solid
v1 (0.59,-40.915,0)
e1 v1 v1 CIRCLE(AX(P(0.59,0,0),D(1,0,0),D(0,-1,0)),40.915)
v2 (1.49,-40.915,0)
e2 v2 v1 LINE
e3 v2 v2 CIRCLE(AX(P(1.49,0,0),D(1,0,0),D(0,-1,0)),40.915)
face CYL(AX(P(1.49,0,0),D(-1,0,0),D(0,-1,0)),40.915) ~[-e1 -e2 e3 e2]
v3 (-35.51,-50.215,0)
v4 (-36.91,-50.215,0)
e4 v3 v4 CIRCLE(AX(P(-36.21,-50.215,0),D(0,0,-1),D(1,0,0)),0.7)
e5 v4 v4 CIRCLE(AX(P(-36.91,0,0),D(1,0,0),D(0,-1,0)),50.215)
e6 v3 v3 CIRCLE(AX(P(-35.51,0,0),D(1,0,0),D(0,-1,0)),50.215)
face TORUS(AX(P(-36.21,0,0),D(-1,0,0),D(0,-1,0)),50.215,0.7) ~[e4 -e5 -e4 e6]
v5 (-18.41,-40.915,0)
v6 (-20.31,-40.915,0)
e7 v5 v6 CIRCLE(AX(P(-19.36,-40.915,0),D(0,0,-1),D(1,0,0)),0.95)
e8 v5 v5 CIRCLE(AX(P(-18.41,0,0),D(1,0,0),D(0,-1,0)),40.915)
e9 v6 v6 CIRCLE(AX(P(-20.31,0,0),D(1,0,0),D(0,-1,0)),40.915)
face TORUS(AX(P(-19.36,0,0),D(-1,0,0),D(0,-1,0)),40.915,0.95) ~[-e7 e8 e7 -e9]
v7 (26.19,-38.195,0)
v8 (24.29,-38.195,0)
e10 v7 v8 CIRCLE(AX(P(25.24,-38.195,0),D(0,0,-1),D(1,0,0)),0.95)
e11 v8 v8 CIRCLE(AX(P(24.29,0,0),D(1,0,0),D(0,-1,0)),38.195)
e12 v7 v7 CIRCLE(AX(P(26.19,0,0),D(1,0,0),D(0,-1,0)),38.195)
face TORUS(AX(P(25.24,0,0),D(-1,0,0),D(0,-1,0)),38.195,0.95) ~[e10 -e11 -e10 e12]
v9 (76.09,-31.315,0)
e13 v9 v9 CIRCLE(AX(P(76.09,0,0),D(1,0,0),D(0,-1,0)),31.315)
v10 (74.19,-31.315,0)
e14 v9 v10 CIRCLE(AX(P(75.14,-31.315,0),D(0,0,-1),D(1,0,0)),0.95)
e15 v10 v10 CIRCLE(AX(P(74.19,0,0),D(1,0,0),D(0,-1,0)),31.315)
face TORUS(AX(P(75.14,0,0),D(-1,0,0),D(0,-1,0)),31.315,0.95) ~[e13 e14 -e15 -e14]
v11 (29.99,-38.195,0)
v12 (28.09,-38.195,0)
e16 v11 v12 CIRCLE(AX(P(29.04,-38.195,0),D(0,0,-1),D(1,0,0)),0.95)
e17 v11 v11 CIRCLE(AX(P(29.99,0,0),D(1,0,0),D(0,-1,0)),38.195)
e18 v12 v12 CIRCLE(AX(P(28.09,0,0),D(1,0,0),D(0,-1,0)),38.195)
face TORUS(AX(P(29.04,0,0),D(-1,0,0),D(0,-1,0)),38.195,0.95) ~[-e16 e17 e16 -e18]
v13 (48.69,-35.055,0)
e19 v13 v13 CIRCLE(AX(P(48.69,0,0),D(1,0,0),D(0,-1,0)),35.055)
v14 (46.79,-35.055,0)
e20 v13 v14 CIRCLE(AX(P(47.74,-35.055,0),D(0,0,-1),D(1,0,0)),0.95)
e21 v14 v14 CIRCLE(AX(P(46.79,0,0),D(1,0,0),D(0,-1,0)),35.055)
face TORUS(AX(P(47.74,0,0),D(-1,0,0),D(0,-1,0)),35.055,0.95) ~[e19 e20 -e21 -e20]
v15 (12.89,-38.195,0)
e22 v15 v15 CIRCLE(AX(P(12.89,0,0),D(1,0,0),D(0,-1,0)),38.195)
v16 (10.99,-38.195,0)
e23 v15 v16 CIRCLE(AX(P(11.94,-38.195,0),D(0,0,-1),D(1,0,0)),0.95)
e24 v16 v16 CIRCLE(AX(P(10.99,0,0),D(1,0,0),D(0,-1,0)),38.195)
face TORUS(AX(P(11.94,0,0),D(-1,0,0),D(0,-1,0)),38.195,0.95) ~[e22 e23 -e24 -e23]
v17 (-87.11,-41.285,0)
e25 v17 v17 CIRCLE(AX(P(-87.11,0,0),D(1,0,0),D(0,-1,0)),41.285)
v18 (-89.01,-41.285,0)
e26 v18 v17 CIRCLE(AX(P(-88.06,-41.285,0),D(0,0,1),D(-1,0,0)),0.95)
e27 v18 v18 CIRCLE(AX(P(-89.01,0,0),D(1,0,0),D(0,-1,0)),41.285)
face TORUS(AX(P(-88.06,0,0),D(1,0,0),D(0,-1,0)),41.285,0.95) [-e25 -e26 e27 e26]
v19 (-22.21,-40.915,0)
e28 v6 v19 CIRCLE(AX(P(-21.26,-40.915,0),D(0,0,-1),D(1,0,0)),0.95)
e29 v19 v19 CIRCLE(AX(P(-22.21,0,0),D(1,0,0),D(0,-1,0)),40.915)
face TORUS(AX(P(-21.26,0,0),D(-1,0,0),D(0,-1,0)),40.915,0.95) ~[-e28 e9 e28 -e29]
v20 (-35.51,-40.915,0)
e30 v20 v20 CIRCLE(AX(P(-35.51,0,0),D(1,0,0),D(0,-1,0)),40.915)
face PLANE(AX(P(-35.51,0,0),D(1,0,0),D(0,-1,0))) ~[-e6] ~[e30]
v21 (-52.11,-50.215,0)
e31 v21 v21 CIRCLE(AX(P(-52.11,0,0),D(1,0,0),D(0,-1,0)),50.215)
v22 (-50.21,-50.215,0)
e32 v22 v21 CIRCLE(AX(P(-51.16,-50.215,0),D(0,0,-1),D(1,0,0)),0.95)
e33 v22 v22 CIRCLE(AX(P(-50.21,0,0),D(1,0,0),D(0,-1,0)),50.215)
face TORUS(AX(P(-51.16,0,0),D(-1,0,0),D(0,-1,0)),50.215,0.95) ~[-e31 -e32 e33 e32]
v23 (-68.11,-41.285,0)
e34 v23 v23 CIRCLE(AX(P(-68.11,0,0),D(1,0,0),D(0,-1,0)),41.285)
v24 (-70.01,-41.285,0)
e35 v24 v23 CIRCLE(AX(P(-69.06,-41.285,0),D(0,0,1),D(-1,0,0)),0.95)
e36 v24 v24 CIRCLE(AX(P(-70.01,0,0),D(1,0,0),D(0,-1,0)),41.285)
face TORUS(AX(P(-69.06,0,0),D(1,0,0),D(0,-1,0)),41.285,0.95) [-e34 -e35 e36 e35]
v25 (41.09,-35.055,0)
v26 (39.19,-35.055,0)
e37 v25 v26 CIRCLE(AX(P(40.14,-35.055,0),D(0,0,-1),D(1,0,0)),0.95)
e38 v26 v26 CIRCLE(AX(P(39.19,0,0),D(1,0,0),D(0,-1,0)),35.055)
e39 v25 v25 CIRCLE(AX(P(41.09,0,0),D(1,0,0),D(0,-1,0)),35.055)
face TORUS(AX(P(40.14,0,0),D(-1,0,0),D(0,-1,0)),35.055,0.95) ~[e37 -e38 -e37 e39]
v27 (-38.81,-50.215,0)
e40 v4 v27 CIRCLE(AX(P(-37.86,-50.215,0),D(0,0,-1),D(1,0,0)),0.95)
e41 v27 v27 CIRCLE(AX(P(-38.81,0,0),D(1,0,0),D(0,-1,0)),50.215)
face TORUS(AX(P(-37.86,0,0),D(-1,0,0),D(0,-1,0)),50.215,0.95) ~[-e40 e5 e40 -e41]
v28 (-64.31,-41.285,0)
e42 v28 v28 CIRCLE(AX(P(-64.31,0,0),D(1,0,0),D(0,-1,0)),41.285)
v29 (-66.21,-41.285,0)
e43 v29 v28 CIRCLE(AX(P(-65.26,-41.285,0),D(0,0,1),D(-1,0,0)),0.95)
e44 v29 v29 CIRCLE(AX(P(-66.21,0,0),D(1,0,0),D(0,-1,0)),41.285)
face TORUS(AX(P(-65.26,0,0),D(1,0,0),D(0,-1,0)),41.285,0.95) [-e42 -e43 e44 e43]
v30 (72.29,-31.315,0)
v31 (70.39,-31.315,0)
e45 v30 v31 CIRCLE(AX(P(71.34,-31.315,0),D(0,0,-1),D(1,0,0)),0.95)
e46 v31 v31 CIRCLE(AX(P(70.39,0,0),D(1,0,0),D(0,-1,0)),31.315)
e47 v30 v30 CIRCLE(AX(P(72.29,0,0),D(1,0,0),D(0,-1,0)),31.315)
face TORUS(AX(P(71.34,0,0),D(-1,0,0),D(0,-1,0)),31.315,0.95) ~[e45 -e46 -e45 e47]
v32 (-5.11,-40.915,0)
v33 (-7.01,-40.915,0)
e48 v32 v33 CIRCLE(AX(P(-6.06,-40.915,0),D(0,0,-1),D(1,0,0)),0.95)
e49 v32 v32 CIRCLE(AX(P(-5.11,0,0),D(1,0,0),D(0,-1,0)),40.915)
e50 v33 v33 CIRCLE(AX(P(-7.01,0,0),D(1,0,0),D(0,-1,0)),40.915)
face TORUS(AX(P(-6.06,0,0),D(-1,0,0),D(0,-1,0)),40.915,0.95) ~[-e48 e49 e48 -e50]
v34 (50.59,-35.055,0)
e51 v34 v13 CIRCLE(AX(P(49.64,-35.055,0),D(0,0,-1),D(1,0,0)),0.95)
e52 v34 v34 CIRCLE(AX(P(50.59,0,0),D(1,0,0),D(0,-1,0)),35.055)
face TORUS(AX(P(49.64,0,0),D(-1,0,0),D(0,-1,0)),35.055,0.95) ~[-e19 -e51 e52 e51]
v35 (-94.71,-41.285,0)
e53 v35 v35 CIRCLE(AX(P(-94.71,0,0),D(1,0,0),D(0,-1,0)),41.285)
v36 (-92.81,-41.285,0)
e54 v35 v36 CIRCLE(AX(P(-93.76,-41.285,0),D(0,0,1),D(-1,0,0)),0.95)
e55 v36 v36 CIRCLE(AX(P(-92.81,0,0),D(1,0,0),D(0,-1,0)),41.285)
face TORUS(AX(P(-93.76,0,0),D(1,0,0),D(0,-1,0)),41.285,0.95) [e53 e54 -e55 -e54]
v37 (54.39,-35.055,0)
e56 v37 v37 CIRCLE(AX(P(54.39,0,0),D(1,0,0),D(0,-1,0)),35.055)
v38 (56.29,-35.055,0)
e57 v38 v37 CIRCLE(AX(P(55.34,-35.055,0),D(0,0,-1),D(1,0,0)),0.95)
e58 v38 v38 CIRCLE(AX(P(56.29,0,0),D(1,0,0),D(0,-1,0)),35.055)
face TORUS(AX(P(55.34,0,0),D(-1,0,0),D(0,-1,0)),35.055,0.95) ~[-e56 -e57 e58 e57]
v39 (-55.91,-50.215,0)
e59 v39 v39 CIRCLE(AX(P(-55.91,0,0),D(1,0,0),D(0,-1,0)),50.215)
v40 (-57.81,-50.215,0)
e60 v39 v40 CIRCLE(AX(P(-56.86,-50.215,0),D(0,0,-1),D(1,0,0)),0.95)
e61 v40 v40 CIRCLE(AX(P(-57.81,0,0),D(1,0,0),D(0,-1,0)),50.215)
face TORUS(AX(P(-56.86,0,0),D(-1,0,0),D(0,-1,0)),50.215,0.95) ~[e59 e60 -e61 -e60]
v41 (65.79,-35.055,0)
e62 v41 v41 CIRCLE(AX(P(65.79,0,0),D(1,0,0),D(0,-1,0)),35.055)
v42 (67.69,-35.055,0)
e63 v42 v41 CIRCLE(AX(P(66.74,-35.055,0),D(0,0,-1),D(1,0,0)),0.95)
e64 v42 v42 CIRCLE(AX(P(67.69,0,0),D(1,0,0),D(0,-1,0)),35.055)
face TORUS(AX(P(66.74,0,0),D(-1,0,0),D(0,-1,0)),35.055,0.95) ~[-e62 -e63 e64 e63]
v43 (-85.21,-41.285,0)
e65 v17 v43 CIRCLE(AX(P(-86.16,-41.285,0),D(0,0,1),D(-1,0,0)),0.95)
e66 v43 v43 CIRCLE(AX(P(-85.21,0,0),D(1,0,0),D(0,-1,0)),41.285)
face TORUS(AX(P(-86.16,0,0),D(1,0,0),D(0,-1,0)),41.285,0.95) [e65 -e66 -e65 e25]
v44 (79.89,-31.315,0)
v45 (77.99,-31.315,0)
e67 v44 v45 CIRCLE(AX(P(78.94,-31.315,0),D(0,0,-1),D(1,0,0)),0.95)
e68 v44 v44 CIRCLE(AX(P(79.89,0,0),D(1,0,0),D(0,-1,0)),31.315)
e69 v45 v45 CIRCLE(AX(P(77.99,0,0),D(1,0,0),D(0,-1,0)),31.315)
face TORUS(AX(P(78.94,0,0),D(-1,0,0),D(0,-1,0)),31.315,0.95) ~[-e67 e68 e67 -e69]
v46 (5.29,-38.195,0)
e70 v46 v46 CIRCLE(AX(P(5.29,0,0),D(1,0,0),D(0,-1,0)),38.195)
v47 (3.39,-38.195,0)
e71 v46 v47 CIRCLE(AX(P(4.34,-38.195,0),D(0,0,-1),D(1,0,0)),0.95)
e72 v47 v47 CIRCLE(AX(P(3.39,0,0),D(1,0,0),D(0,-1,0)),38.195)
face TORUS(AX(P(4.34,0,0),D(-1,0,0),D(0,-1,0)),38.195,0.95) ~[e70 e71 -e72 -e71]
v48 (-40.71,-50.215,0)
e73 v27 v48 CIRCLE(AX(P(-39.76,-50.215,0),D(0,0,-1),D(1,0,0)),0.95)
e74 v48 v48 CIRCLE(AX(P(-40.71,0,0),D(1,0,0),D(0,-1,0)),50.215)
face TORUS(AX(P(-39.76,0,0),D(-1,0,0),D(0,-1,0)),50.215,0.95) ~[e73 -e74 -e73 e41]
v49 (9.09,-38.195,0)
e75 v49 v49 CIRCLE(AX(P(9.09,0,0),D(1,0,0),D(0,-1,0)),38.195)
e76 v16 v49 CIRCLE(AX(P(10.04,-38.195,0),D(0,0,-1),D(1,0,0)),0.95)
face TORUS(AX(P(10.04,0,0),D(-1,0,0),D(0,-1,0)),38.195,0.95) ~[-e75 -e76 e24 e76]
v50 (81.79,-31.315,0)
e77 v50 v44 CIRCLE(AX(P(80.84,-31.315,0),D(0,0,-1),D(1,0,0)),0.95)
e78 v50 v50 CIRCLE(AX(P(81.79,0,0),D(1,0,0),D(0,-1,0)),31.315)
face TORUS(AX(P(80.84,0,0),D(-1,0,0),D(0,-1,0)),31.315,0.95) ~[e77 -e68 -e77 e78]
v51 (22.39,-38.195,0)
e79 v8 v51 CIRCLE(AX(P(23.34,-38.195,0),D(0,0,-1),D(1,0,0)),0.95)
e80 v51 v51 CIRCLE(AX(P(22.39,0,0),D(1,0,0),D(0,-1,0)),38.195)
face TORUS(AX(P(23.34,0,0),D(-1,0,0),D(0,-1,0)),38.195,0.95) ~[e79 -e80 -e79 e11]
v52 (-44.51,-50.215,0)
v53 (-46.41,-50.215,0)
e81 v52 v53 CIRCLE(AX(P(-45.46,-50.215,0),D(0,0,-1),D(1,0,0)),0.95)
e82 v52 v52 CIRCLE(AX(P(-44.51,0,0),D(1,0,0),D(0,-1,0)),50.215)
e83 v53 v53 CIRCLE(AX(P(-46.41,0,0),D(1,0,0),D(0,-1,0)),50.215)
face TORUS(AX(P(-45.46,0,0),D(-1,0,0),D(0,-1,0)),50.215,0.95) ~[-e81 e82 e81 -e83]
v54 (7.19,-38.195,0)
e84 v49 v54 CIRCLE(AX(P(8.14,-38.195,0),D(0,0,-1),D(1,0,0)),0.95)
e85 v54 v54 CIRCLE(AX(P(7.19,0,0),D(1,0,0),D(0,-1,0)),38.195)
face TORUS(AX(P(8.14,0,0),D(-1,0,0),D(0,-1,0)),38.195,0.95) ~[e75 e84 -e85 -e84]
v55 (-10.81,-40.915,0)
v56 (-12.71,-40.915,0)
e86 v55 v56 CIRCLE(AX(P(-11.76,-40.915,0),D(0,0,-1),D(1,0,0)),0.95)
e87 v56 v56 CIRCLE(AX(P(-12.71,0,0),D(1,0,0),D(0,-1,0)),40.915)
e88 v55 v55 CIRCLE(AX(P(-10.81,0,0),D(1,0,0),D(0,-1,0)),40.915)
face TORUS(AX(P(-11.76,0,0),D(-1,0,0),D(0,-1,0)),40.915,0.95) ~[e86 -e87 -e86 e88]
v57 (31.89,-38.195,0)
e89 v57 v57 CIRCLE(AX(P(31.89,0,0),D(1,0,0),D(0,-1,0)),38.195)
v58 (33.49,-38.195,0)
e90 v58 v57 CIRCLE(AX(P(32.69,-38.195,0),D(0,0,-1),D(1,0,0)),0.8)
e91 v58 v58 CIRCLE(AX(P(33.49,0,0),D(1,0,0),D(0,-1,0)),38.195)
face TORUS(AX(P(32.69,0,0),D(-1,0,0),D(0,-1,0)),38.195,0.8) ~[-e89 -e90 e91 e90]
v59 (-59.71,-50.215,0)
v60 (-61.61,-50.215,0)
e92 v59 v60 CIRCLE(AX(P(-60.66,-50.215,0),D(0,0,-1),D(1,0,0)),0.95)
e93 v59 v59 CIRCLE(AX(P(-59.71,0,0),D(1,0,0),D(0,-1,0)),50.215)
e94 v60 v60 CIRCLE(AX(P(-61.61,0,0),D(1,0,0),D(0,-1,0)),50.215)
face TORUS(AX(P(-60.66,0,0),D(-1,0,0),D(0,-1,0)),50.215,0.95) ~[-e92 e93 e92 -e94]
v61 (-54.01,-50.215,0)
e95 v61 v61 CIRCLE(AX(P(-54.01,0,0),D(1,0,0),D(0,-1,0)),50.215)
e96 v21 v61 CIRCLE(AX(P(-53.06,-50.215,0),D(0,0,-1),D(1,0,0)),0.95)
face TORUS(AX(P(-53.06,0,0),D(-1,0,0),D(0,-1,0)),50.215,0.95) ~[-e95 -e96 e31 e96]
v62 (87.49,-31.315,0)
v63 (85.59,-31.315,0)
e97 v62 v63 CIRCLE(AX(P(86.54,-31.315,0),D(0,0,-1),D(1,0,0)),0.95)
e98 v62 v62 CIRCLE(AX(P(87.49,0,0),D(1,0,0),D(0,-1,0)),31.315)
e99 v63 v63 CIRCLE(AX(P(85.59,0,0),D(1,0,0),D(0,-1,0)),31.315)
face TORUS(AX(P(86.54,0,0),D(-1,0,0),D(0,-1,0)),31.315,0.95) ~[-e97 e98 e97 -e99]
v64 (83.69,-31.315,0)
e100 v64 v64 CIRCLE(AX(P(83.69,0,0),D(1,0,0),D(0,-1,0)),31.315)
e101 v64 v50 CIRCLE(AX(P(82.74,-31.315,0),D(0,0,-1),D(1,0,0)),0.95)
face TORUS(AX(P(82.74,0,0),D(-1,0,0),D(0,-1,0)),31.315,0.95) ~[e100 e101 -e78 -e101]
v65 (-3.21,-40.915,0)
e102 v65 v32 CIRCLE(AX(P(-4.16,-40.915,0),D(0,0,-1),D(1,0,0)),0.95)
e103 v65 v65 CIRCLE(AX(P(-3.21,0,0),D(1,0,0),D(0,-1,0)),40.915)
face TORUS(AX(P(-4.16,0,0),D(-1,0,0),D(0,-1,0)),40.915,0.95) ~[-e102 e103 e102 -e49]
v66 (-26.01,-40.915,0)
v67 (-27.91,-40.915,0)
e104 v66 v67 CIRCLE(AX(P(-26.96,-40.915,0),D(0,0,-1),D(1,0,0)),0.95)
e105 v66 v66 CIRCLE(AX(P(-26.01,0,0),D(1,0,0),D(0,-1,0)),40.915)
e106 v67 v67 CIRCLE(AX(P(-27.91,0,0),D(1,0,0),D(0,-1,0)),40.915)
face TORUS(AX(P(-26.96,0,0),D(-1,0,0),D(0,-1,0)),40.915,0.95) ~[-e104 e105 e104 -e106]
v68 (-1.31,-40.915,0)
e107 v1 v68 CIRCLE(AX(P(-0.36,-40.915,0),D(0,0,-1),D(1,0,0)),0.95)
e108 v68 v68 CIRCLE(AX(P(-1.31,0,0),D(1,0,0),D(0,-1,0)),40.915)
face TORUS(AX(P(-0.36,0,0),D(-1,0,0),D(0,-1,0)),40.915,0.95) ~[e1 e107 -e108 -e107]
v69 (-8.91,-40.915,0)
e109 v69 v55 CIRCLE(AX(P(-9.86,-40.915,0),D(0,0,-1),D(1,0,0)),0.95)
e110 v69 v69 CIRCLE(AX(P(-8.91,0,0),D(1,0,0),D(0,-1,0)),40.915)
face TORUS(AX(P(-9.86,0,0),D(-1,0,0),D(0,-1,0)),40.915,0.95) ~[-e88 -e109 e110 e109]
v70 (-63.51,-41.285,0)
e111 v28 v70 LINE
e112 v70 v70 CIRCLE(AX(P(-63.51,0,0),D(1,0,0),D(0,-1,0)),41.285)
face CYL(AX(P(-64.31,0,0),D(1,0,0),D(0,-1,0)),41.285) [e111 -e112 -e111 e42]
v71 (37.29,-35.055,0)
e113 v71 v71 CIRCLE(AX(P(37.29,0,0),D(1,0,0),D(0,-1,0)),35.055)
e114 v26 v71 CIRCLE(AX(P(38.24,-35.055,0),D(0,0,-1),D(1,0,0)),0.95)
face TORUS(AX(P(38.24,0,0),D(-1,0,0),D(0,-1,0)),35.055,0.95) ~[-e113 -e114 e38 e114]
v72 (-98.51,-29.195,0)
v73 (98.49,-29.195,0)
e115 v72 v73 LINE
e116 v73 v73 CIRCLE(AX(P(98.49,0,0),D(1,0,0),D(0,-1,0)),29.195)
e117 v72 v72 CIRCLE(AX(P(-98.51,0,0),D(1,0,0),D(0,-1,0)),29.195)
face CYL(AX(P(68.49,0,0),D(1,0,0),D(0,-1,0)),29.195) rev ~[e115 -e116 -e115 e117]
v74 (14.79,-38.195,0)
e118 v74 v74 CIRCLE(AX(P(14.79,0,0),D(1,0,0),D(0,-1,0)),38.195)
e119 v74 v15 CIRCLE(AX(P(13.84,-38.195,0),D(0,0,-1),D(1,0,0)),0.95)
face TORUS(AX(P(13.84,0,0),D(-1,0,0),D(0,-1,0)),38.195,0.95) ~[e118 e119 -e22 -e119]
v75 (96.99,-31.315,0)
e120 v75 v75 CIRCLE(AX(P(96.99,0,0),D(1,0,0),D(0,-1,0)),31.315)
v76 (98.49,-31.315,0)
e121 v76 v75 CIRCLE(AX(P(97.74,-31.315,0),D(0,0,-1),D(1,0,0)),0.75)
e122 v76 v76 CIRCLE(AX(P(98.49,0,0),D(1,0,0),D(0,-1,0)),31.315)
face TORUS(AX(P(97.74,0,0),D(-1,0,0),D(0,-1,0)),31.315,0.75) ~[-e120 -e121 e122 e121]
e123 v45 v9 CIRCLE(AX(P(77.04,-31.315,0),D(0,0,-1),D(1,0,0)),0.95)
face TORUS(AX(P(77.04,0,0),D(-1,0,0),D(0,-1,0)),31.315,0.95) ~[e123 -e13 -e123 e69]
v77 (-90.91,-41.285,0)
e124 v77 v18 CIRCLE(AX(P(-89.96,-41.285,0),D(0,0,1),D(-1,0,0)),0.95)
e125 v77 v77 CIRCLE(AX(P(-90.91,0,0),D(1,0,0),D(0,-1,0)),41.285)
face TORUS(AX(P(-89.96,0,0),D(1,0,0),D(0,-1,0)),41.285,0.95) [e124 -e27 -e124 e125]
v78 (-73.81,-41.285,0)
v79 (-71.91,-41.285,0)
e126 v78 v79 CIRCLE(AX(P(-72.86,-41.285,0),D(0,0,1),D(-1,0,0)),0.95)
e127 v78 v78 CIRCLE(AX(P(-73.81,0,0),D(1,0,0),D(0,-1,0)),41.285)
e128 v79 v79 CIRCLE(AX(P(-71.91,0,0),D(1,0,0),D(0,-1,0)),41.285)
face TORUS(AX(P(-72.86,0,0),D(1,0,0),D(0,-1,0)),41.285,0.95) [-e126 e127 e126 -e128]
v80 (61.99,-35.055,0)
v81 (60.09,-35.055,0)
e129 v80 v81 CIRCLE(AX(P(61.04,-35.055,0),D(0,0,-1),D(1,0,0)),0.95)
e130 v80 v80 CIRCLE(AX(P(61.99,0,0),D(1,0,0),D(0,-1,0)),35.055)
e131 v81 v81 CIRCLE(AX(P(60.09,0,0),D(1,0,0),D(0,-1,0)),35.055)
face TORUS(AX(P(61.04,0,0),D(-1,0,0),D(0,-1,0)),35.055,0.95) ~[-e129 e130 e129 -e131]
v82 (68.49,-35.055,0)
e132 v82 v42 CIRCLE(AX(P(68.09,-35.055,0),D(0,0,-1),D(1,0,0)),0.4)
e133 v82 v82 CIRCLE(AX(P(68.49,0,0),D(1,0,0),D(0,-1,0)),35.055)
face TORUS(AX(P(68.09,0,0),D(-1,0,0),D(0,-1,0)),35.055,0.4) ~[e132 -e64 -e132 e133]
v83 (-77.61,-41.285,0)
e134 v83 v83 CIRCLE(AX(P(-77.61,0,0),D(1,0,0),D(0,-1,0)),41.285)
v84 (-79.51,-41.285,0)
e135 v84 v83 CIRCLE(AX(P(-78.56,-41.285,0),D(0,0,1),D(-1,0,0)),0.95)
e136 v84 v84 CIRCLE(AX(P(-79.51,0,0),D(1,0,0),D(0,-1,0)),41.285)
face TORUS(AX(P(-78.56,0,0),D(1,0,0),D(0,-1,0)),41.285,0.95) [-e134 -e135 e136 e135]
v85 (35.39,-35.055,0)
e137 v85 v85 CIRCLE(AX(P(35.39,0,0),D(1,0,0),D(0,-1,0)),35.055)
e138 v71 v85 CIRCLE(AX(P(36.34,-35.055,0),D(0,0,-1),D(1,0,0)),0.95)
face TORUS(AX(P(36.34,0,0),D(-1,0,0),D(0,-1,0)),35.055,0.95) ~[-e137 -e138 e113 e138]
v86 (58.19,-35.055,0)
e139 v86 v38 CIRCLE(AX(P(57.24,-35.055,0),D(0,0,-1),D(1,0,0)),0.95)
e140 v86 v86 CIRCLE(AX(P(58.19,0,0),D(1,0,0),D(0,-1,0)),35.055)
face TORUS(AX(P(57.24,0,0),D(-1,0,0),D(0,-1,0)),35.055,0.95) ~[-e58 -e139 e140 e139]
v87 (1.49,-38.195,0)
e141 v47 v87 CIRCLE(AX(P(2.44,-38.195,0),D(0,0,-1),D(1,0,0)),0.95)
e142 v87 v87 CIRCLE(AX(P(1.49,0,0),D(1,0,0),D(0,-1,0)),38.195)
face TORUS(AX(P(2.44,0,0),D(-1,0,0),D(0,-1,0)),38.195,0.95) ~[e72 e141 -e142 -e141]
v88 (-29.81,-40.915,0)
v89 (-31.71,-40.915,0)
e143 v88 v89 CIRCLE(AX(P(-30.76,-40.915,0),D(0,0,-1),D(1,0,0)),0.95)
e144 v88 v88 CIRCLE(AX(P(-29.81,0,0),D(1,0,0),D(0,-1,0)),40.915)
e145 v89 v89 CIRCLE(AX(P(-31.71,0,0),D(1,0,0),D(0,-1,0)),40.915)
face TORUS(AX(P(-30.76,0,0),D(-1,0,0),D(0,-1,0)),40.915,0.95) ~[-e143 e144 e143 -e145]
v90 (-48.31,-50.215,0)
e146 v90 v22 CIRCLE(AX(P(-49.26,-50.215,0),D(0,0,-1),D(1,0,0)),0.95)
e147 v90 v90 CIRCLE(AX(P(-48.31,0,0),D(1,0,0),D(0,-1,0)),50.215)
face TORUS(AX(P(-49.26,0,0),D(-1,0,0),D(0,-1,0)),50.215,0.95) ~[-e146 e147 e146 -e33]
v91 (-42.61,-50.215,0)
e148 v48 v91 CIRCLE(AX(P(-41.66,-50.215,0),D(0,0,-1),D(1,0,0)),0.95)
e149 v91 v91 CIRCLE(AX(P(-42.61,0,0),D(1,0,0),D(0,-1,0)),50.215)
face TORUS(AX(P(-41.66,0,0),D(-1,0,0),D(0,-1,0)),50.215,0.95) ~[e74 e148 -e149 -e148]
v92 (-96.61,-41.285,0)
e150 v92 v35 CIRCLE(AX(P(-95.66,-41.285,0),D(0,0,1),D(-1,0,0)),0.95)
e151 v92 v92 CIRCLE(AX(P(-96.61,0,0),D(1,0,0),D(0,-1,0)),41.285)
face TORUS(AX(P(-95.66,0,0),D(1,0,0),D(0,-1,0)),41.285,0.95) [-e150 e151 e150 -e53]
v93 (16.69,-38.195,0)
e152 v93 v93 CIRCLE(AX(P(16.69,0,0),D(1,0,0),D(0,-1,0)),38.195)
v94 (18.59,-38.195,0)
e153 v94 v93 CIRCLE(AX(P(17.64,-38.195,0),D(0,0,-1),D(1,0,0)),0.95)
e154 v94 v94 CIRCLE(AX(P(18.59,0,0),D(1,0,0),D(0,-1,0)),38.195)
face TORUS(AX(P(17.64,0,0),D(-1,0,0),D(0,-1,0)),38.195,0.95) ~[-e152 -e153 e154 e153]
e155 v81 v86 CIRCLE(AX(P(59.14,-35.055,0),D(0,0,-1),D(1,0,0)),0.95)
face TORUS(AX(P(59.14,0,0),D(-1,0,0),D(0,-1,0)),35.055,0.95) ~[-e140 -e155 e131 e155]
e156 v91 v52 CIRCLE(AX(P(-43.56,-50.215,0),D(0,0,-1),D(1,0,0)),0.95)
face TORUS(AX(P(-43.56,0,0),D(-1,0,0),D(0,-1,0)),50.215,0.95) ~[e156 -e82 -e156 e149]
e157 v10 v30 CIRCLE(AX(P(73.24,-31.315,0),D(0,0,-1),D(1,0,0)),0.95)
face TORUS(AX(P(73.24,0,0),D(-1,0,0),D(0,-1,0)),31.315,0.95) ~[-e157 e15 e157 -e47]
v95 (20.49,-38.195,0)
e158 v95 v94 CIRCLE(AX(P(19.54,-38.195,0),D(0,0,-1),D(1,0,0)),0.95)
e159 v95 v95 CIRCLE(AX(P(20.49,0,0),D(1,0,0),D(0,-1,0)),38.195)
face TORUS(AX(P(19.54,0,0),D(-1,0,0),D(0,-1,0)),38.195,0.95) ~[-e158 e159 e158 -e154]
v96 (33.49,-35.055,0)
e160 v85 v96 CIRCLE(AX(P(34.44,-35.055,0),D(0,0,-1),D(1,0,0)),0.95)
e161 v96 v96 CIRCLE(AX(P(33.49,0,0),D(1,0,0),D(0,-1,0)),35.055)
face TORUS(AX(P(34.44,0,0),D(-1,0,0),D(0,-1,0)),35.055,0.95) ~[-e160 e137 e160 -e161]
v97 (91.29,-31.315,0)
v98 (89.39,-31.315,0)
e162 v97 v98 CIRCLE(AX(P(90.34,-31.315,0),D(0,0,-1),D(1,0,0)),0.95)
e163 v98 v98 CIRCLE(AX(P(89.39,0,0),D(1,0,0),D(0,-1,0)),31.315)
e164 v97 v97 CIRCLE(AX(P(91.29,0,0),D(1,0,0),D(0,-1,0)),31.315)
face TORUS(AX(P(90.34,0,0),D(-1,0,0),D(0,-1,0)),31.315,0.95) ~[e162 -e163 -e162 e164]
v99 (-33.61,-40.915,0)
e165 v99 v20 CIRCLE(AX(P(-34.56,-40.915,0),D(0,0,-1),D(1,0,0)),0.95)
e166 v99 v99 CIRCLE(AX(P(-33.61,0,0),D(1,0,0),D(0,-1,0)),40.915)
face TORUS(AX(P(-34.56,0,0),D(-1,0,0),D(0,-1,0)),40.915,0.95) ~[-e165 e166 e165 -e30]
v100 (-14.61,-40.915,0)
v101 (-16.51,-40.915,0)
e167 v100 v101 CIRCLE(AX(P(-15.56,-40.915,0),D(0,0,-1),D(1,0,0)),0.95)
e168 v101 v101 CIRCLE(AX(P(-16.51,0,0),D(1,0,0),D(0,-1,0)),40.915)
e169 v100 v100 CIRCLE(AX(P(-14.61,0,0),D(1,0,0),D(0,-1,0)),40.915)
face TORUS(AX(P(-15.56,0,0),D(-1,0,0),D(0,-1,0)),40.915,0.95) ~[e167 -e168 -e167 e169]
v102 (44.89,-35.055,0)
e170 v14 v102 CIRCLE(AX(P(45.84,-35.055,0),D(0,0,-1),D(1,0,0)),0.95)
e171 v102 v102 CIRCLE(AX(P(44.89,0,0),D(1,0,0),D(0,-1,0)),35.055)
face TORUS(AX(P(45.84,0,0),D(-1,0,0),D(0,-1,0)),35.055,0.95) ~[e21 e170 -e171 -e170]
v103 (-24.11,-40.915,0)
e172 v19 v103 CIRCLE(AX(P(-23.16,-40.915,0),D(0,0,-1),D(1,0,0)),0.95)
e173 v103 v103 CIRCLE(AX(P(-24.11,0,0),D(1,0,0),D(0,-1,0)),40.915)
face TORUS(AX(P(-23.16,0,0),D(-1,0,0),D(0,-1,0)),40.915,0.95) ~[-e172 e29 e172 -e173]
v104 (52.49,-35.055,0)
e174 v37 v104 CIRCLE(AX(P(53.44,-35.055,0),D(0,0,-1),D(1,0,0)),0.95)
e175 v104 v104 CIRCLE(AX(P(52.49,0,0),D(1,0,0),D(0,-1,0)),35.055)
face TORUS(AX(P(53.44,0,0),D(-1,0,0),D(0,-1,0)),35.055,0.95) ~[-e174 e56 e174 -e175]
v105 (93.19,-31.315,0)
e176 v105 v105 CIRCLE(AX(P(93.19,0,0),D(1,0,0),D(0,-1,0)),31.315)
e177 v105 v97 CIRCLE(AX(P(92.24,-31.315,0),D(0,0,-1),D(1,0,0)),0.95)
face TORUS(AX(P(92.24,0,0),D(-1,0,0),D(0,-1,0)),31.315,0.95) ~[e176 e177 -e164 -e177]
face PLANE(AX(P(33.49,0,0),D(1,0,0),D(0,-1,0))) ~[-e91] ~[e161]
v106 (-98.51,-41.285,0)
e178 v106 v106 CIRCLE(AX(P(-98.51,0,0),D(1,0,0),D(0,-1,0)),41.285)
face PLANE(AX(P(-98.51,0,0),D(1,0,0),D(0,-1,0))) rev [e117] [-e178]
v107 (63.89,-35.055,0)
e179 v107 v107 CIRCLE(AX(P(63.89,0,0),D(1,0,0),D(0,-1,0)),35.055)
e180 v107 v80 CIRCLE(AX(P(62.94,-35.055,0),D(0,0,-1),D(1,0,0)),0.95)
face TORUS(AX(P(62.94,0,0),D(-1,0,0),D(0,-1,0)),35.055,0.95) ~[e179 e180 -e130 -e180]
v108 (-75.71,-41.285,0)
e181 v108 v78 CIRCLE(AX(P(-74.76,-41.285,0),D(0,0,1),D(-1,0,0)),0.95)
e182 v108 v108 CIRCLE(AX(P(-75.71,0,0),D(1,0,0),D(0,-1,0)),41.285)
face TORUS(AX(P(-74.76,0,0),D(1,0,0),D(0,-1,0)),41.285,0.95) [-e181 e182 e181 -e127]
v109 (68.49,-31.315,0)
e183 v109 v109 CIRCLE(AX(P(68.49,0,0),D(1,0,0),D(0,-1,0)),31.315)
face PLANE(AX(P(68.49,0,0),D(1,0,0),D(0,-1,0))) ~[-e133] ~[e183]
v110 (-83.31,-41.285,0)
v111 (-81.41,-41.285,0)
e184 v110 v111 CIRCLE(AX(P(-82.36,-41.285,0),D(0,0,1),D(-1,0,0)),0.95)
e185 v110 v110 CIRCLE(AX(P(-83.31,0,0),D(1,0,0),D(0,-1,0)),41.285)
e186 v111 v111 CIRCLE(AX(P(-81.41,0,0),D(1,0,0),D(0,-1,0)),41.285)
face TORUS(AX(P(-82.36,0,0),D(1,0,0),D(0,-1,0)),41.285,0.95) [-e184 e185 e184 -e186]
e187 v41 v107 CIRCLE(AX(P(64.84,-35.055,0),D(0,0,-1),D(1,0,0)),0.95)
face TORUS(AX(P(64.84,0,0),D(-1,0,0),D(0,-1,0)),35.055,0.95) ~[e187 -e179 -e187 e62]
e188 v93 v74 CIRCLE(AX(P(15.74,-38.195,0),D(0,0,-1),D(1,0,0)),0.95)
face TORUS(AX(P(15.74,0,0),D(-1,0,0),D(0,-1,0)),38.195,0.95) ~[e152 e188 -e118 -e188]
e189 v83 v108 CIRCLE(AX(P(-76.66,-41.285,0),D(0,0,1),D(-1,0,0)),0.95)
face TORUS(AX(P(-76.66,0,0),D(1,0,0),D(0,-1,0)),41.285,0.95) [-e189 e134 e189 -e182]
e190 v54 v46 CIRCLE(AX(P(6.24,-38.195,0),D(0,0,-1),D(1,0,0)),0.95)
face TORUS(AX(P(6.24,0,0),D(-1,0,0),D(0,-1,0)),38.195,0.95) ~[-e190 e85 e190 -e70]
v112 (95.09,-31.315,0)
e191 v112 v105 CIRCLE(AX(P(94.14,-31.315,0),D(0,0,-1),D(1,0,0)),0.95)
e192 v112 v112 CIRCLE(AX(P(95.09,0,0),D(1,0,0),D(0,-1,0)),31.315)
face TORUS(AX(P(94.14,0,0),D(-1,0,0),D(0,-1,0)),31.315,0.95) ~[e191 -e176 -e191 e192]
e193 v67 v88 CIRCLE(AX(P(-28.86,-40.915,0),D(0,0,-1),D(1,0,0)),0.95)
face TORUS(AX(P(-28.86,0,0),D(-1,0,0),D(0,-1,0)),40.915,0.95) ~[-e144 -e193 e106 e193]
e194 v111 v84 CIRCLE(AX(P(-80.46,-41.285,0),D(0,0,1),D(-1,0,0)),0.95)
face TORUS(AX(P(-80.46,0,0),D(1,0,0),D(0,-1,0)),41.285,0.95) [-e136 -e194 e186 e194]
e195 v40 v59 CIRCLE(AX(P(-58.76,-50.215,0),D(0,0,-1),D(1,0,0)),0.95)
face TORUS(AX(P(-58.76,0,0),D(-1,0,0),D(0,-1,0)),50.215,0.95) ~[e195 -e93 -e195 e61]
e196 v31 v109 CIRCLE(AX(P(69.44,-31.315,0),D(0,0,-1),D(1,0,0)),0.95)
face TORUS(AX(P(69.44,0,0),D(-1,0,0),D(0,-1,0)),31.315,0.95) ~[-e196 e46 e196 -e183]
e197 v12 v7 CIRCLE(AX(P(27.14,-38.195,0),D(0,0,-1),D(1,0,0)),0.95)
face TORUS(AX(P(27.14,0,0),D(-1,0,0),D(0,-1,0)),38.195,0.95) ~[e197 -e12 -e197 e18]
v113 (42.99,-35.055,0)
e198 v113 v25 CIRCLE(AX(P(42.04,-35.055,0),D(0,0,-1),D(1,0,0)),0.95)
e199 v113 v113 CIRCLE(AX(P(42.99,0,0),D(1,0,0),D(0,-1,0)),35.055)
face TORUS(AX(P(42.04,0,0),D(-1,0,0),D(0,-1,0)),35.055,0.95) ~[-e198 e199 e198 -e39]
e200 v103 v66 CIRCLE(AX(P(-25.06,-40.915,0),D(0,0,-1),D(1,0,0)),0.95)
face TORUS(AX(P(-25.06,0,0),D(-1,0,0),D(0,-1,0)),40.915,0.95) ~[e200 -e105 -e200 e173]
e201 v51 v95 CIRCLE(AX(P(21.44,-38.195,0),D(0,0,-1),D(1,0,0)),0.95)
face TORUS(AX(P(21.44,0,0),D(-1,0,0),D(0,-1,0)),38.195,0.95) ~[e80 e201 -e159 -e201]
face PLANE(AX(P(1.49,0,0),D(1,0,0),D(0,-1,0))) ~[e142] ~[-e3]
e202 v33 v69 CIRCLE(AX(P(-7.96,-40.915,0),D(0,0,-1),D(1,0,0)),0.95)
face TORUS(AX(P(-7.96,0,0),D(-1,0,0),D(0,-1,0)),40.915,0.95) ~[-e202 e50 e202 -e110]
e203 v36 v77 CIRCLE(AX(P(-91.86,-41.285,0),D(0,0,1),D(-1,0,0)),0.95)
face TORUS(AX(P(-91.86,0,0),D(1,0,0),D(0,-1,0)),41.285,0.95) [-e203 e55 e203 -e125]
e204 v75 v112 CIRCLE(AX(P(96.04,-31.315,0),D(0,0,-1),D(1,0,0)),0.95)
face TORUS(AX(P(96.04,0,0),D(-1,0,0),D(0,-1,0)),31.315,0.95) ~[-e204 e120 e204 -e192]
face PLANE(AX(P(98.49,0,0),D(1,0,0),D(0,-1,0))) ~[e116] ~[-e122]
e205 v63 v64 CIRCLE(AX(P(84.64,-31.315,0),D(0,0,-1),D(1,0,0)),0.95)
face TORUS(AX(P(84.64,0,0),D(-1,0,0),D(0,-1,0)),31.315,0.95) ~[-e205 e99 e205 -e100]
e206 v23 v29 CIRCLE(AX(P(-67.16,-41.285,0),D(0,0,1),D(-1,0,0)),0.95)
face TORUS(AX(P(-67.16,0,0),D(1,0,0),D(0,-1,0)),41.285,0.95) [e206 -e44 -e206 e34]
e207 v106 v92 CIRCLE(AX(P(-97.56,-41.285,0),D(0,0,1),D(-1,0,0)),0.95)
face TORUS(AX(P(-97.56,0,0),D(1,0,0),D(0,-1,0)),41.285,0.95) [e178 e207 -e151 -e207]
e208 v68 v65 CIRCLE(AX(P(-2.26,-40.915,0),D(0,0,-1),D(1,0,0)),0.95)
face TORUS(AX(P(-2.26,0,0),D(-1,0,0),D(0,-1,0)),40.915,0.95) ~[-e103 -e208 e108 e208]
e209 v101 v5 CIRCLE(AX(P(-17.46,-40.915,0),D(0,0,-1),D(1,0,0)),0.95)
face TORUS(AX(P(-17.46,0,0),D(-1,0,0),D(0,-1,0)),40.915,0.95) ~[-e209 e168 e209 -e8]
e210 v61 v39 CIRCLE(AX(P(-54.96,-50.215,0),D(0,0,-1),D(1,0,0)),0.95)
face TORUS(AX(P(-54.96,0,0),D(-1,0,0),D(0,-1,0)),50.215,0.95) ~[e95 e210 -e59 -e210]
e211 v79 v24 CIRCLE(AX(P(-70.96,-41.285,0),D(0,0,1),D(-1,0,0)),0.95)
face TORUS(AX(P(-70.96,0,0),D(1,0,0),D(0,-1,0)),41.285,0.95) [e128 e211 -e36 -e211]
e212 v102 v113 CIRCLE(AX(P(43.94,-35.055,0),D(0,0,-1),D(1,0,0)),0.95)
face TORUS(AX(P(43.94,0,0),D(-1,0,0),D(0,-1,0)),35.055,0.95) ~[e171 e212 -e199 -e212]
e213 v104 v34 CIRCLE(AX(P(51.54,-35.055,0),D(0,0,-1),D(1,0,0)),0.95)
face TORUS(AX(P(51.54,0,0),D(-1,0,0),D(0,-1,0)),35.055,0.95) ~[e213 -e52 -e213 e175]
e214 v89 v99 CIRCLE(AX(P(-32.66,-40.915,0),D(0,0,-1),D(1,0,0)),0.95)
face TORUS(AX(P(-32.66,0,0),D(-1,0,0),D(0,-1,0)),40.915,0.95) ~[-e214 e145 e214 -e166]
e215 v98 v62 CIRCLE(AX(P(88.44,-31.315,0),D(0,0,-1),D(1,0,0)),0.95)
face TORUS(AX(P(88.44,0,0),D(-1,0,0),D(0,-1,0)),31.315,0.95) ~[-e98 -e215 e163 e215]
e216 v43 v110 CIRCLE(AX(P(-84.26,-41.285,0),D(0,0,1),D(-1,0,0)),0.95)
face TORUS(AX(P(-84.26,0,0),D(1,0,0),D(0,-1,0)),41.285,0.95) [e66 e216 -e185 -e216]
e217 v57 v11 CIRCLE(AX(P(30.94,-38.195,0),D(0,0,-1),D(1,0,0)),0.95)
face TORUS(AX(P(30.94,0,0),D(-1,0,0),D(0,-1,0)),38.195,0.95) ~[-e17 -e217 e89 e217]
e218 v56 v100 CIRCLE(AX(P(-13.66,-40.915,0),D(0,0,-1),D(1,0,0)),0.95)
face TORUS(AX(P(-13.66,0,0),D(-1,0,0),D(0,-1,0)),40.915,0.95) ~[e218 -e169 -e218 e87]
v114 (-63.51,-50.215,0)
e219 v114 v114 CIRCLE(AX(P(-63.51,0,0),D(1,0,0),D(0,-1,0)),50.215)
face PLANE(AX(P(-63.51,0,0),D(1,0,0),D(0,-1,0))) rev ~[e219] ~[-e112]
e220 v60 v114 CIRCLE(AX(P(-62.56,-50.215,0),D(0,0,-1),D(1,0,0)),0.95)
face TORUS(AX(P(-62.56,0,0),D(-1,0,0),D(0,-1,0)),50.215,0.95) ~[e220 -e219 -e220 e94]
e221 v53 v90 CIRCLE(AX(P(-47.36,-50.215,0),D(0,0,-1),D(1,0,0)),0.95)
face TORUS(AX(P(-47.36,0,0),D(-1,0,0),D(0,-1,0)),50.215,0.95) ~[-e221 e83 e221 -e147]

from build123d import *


with BuildPart() as part:
    # Croquis1 → Revolución1 (revolve)
    with BuildSketch(Plane.XY):
        with BuildLine():
            Line((-98.51, 41.285), (-98.51, 29.195))
            Line((-98.51, 29.195), (-63.51, 29.195))
            Line((-63.51, 29.195), (-63.51, 41.285))
            Line((-63.51, 41.285), (-64.31, 41.285))
            ThreePointArc((-64.31, 41.285), (-65.26, 42.235), (-66.21, 41.285))
            ThreePointArc((-66.21, 41.285), (-67.16, 42.235), (-68.11, 41.285))
            ThreePointArc((-68.11, 41.285), (-69.06, 42.235), (-70.01, 41.285))
            ThreePointArc((-70.01, 41.285), (-70.96, 42.235), (-71.91, 41.285))
            ThreePointArc((-71.91, 41.285), (-72.86, 42.235), (-73.81, 41.285))
            ThreePointArc((-73.81, 41.285), (-74.76, 42.235), (-75.71, 41.285))
            ThreePointArc((-75.71, 41.285), (-76.66, 42.235), (-77.61, 41.285))
            ThreePointArc((-77.61, 41.285), (-78.56, 42.235), (-79.51, 41.285))
            ThreePointArc((-79.51, 41.285), (-80.46, 42.235), (-81.41, 41.285))
            ThreePointArc((-81.41, 41.285), (-82.36, 42.235), (-83.31, 41.285))
            ThreePointArc((-83.31, 41.285), (-84.26, 42.235), (-85.21, 41.285))
            ThreePointArc((-85.21, 41.285), (-86.16, 42.235), (-87.11, 41.285))
            ThreePointArc((-87.11, 41.285), (-88.06, 42.235), (-89.01, 41.285))
            ThreePointArc((-89.01, 41.285), (-89.96, 42.235), (-90.91, 41.285))
            ThreePointArc((-90.91, 41.285), (-91.86, 42.235), (-92.81, 41.285))
            ThreePointArc((-92.81, 41.285), (-93.76, 42.235), (-94.71, 41.285))
            ThreePointArc((-94.71, 41.285), (-95.66, 42.235), (-96.61, 41.285))
            ThreePointArc((-96.61, 41.285), (-97.56, 42.235), (-98.51, 41.285))
        make_face()
    revolve(axis=Axis((-105, 0, 0), (1, 0, 0)))

    # Croquis1<4> → Revolución2 (revolve)
    with BuildSketch(Plane.XY):
        with BuildLine():
            Line((-63.51, 41.285), (-63.51, 29.195))
            Line((-63.51, 29.195), (-35.51, 29.195))
            Line((-35.51, 29.195), (-35.51, 40.915))
            Line((-35.51, 40.915), (-35.51, 50.215))
            ThreePointArc((-35.51, 50.215), (-36.21, 50.915), (-36.91, 50.215))
            ThreePointArc((-36.91, 50.215), (-37.86, 51.165), (-38.81, 50.215))
            ThreePointArc((-38.81, 50.215), (-39.76, 51.165), (-40.71, 50.215))
            ThreePointArc((-40.71, 50.215), (-41.66, 51.165), (-42.61, 50.215))
            ThreePointArc((-42.61, 50.215), (-43.56, 51.165), (-44.51, 50.215))
            ThreePointArc((-44.51, 50.215), (-45.46, 51.165), (-46.41, 50.215))
            ThreePointArc((-46.41, 50.215), (-47.36, 51.165), (-48.31, 50.215))
            ThreePointArc((-48.31, 50.215), (-49.26, 51.165), (-50.21, 50.215))
            ThreePointArc((-50.21, 50.215), (-51.16, 51.165), (-52.11, 50.215))
            ThreePointArc((-52.11, 50.215), (-53.06, 51.165), (-54.01, 50.215))
            ThreePointArc((-54.01, 50.215), (-54.96, 51.165), (-55.91, 50.215))
            ThreePointArc((-55.91, 50.215), (-56.86, 51.165), (-57.81, 50.215))
            ThreePointArc((-57.81, 50.215), (-58.76, 51.165), (-59.71, 50.215))
            ThreePointArc((-59.71, 50.215), (-60.66, 51.165), (-61.61, 50.215))
            ThreePointArc((-61.61, 50.215), (-62.56, 51.165), (-63.51, 50.215))
            Line((-63.51, 50.215), (-63.51, 41.285))
        make_face()
    revolve(axis=Axis((-105, 0, 0), (1, 0, 0)))

    # Croquis1<5> → Revolución3 (revolve)
    with BuildSketch(Plane.XY):
        with BuildLine():
            Line((-35.51, 40.915), (-35.51, 29.195))
            Line((-35.51, 29.195), (1.49, 29.195))
            Line((1.49, 29.195), (1.49, 38.195))
            Line((1.49, 38.195), (1.49, 40.915))
            Line((1.49, 40.915), (0.59, 40.915))
            ThreePointArc((0.59, 40.915), (-0.36, 41.865), (-1.31, 40.915))
            ThreePointArc((-1.31, 40.915), (-2.26, 41.865), (-3.21, 40.915))
            ThreePointArc((-3.21, 40.915), (-4.16, 41.865), (-5.11, 40.915))
            ThreePointArc((-5.11, 40.915), (-6.06, 41.865), (-7.01, 40.915))
            ThreePointArc((-7.01, 40.915), (-7.96, 41.865), (-8.91, 40.915))
            ThreePointArc((-8.91, 40.915), (-9.86, 41.865), (-10.81, 40.915))
            ThreePointArc((-10.81, 40.915), (-11.76, 41.865), (-12.71, 40.915))
            ThreePointArc((-12.71, 40.915), (-13.66, 41.865), (-14.61, 40.915))
            ThreePointArc((-14.61, 40.915), (-15.56, 41.865), (-16.51, 40.915))
            ThreePointArc((-16.51, 40.915), (-17.46, 41.865), (-18.41, 40.915))
            ThreePointArc((-18.41, 40.915), (-19.36, 41.865), (-20.31, 40.915))
            ThreePointArc((-20.31, 40.915), (-21.26, 41.865), (-22.21, 40.915))
            ThreePointArc((-22.21, 40.915), (-23.16, 41.865), (-24.11, 40.915))
            ThreePointArc((-24.11, 40.915), (-25.06, 41.865), (-26.01, 40.915))
            ThreePointArc((-26.01, 40.915), (-26.96, 41.865), (-27.91, 40.915))
            ThreePointArc((-27.91, 40.915), (-28.86, 41.865), (-29.81, 40.915))
            ThreePointArc((-29.81, 40.915), (-30.76, 41.865), (-31.71, 40.915))
            ThreePointArc((-31.71, 40.915), (-32.66, 41.865), (-33.61, 40.915))
            ThreePointArc((-33.61, 40.915), (-34.56, 41.865), (-35.51, 40.915))
        make_face()
    revolve(axis=Axis((-105, 0, 0), (1, 0, 0)))

    # Croquis1<6> → Revolución4 (revolve)
    with BuildSketch(Plane.XY):
        with BuildLine():
            Line((1.49, 38.195), (1.49, 29.195))
            Line((1.49, 29.195), (33.49, 29.195))
            Line((33.49, 29.195), (33.49, 35.055))
            Line((33.49, 35.055), (33.49, 38.195))
            ThreePointArc((33.49, 38.195), (32.69, 38.995), (31.89, 38.195))
            ThreePointArc((31.89, 38.195), (30.94, 39.145), (29.99, 38.195))
            ThreePointArc((29.99, 38.195), (29.04, 39.145), (28.09, 38.195))
            ThreePointArc((28.09, 38.195), (27.14, 39.145), (26.19, 38.195))
            ThreePointArc((26.19, 38.195), (25.24, 39.145), (24.29, 38.195))
            ThreePointArc((24.29, 38.195), (23.34, 39.145), (22.39, 38.195))
            ThreePointArc((22.39, 38.195), (21.44, 39.145), (20.49, 38.195))
            ThreePointArc((20.49, 38.195), (19.54, 39.145), (18.59, 38.195))
            ThreePointArc((18.59, 38.195), (17.64, 39.145), (16.69, 38.195))
            ThreePointArc((16.69, 38.195), (15.74, 39.145), (14.79, 38.195))
            ThreePointArc((14.79, 38.195), (13.84, 39.145), (12.89, 38.195))
            ThreePointArc((12.89, 38.195), (11.94, 39.145), (10.99, 38.195))
            ThreePointArc((10.99, 38.195), (10.04, 39.145), (9.09, 38.195))
            ThreePointArc((9.09, 38.195), (8.14, 39.145), (7.19, 38.195))
            ThreePointArc((7.19, 38.195), (6.24, 39.145), (5.29, 38.195))
            ThreePointArc((5.29, 38.195), (4.34, 39.145), (3.39, 38.195))
            ThreePointArc((3.39, 38.195), (2.44, 39.145), (1.49, 38.195))
        make_face()
    revolve(axis=Axis((-105, 0, 0), (1, 0, 0)))

    # Croquis1<7> → Revolución5 (revolve)
    with BuildSketch(Plane.XY):
        with BuildLine():
            Line((33.49, 35.055), (33.49, 29.195))
            Line((33.49, 29.195), (68.49, 29.195))
            Line((68.49, 29.195), (68.49, 31.315))
            Line((68.49, 31.315), (68.49, 35.055))
            ThreePointArc((68.49, 35.055), (68.09, 35.455), (67.69, 35.055))
            ThreePointArc((67.69, 35.055), (66.74, 36.005), (65.79, 35.055))
            ThreePointArc((65.79, 35.055), (64.84, 36.005), (63.89, 35.055))
            ThreePointArc((63.89, 35.055), (62.94, 36.005), (61.99, 35.055))
            ThreePointArc((61.99, 35.055), (61.04, 36.005), (60.09, 35.055))
            ThreePointArc((60.09, 35.055), (59.14, 36.005), (58.19, 35.055))
            ThreePointArc((58.19, 35.055), (57.24, 36.005), (56.29, 35.055))
            ThreePointArc((56.29, 35.055), (55.34, 36.005), (54.39, 35.055))
            ThreePointArc((54.39, 35.055), (53.44, 36.005), (52.49, 35.055))
            ThreePointArc((52.49, 35.055), (51.54, 36.005), (50.59, 35.055))
            ThreePointArc((50.59, 35.055), (49.64, 36.005), (48.69, 35.055))
            ThreePointArc((48.69, 35.055), (47.74, 36.005), (46.79, 35.055))
            ThreePointArc((46.79, 35.055), (45.84, 36.005), (44.89, 35.055))
            ThreePointArc((44.89, 35.055), (43.94, 36.005), (42.99, 35.055))
            ThreePointArc((42.99, 35.055), (42.04, 36.005), (41.09, 35.055))
            ThreePointArc((41.09, 35.055), (40.14, 36.005), (39.19, 35.055))
            ThreePointArc((39.19, 35.055), (38.24, 36.005), (37.29, 35.055))
            ThreePointArc((37.29, 35.055), (36.34, 36.005), (35.39, 35.055))
            ThreePointArc((35.39, 35.055), (34.44, 36.005), (33.49, 35.055))
        make_face()
    revolve(axis=Axis((-105, 0, 0), (1, 0, 0)))

    # Croquis1<8> → Revolución6 (revolve)
    with BuildSketch(Plane.XY):
        with BuildLine():
            Line((68.49, 31.315), (68.49, 29.195))
            Line((68.49, 29.195), (98.49, 29.195))
            Line((98.49, 29.195), (98.49, 31.315))
            ThreePointArc((98.49, 31.315), (97.74, 32.065), (96.99, 31.315))
            ThreePointArc((96.99, 31.315), (96.04, 32.265), (95.09, 31.315))
            ThreePointArc((95.09, 31.315), (94.14, 32.265), (93.19, 31.315))
            ThreePointArc((93.19, 31.315), (92.24, 32.265), (91.29, 31.315))
            ThreePointArc((91.29, 31.315), (90.34, 32.265), (89.39, 31.315))
            ThreePointArc((89.39, 31.315), (88.44, 32.265), (87.49, 31.315))
            ThreePointArc((87.49, 31.315), (86.54, 32.265), (85.59, 31.315))
            ThreePointArc((85.59, 31.315), (84.64, 32.265), (83.69, 31.315))
            ThreePointArc((83.69, 31.315), (82.74, 32.265), (81.79, 31.315))
            ThreePointArc((81.79, 31.315), (80.84, 32.265), (79.89, 31.315))
            ThreePointArc((79.89, 31.315), (78.94, 32.265), (77.99, 31.315))
            ThreePointArc((77.99, 31.315), (77.04, 32.265), (76.09, 31.315))
            ThreePointArc((76.09, 31.315), (75.14, 32.265), (74.19, 31.315))
            ThreePointArc((74.19, 31.315), (73.24, 32.265), (72.29, 31.315))
            ThreePointArc((72.29, 31.315), (71.34, 32.265), (70.39, 31.315))
            ThreePointArc((70.39, 31.315), (69.44, 32.265), (68.49, 31.315))
        make_face()
    revolve(axis=Axis((-105, 0, 0), (1, 0, 0)))


solid = part.part
